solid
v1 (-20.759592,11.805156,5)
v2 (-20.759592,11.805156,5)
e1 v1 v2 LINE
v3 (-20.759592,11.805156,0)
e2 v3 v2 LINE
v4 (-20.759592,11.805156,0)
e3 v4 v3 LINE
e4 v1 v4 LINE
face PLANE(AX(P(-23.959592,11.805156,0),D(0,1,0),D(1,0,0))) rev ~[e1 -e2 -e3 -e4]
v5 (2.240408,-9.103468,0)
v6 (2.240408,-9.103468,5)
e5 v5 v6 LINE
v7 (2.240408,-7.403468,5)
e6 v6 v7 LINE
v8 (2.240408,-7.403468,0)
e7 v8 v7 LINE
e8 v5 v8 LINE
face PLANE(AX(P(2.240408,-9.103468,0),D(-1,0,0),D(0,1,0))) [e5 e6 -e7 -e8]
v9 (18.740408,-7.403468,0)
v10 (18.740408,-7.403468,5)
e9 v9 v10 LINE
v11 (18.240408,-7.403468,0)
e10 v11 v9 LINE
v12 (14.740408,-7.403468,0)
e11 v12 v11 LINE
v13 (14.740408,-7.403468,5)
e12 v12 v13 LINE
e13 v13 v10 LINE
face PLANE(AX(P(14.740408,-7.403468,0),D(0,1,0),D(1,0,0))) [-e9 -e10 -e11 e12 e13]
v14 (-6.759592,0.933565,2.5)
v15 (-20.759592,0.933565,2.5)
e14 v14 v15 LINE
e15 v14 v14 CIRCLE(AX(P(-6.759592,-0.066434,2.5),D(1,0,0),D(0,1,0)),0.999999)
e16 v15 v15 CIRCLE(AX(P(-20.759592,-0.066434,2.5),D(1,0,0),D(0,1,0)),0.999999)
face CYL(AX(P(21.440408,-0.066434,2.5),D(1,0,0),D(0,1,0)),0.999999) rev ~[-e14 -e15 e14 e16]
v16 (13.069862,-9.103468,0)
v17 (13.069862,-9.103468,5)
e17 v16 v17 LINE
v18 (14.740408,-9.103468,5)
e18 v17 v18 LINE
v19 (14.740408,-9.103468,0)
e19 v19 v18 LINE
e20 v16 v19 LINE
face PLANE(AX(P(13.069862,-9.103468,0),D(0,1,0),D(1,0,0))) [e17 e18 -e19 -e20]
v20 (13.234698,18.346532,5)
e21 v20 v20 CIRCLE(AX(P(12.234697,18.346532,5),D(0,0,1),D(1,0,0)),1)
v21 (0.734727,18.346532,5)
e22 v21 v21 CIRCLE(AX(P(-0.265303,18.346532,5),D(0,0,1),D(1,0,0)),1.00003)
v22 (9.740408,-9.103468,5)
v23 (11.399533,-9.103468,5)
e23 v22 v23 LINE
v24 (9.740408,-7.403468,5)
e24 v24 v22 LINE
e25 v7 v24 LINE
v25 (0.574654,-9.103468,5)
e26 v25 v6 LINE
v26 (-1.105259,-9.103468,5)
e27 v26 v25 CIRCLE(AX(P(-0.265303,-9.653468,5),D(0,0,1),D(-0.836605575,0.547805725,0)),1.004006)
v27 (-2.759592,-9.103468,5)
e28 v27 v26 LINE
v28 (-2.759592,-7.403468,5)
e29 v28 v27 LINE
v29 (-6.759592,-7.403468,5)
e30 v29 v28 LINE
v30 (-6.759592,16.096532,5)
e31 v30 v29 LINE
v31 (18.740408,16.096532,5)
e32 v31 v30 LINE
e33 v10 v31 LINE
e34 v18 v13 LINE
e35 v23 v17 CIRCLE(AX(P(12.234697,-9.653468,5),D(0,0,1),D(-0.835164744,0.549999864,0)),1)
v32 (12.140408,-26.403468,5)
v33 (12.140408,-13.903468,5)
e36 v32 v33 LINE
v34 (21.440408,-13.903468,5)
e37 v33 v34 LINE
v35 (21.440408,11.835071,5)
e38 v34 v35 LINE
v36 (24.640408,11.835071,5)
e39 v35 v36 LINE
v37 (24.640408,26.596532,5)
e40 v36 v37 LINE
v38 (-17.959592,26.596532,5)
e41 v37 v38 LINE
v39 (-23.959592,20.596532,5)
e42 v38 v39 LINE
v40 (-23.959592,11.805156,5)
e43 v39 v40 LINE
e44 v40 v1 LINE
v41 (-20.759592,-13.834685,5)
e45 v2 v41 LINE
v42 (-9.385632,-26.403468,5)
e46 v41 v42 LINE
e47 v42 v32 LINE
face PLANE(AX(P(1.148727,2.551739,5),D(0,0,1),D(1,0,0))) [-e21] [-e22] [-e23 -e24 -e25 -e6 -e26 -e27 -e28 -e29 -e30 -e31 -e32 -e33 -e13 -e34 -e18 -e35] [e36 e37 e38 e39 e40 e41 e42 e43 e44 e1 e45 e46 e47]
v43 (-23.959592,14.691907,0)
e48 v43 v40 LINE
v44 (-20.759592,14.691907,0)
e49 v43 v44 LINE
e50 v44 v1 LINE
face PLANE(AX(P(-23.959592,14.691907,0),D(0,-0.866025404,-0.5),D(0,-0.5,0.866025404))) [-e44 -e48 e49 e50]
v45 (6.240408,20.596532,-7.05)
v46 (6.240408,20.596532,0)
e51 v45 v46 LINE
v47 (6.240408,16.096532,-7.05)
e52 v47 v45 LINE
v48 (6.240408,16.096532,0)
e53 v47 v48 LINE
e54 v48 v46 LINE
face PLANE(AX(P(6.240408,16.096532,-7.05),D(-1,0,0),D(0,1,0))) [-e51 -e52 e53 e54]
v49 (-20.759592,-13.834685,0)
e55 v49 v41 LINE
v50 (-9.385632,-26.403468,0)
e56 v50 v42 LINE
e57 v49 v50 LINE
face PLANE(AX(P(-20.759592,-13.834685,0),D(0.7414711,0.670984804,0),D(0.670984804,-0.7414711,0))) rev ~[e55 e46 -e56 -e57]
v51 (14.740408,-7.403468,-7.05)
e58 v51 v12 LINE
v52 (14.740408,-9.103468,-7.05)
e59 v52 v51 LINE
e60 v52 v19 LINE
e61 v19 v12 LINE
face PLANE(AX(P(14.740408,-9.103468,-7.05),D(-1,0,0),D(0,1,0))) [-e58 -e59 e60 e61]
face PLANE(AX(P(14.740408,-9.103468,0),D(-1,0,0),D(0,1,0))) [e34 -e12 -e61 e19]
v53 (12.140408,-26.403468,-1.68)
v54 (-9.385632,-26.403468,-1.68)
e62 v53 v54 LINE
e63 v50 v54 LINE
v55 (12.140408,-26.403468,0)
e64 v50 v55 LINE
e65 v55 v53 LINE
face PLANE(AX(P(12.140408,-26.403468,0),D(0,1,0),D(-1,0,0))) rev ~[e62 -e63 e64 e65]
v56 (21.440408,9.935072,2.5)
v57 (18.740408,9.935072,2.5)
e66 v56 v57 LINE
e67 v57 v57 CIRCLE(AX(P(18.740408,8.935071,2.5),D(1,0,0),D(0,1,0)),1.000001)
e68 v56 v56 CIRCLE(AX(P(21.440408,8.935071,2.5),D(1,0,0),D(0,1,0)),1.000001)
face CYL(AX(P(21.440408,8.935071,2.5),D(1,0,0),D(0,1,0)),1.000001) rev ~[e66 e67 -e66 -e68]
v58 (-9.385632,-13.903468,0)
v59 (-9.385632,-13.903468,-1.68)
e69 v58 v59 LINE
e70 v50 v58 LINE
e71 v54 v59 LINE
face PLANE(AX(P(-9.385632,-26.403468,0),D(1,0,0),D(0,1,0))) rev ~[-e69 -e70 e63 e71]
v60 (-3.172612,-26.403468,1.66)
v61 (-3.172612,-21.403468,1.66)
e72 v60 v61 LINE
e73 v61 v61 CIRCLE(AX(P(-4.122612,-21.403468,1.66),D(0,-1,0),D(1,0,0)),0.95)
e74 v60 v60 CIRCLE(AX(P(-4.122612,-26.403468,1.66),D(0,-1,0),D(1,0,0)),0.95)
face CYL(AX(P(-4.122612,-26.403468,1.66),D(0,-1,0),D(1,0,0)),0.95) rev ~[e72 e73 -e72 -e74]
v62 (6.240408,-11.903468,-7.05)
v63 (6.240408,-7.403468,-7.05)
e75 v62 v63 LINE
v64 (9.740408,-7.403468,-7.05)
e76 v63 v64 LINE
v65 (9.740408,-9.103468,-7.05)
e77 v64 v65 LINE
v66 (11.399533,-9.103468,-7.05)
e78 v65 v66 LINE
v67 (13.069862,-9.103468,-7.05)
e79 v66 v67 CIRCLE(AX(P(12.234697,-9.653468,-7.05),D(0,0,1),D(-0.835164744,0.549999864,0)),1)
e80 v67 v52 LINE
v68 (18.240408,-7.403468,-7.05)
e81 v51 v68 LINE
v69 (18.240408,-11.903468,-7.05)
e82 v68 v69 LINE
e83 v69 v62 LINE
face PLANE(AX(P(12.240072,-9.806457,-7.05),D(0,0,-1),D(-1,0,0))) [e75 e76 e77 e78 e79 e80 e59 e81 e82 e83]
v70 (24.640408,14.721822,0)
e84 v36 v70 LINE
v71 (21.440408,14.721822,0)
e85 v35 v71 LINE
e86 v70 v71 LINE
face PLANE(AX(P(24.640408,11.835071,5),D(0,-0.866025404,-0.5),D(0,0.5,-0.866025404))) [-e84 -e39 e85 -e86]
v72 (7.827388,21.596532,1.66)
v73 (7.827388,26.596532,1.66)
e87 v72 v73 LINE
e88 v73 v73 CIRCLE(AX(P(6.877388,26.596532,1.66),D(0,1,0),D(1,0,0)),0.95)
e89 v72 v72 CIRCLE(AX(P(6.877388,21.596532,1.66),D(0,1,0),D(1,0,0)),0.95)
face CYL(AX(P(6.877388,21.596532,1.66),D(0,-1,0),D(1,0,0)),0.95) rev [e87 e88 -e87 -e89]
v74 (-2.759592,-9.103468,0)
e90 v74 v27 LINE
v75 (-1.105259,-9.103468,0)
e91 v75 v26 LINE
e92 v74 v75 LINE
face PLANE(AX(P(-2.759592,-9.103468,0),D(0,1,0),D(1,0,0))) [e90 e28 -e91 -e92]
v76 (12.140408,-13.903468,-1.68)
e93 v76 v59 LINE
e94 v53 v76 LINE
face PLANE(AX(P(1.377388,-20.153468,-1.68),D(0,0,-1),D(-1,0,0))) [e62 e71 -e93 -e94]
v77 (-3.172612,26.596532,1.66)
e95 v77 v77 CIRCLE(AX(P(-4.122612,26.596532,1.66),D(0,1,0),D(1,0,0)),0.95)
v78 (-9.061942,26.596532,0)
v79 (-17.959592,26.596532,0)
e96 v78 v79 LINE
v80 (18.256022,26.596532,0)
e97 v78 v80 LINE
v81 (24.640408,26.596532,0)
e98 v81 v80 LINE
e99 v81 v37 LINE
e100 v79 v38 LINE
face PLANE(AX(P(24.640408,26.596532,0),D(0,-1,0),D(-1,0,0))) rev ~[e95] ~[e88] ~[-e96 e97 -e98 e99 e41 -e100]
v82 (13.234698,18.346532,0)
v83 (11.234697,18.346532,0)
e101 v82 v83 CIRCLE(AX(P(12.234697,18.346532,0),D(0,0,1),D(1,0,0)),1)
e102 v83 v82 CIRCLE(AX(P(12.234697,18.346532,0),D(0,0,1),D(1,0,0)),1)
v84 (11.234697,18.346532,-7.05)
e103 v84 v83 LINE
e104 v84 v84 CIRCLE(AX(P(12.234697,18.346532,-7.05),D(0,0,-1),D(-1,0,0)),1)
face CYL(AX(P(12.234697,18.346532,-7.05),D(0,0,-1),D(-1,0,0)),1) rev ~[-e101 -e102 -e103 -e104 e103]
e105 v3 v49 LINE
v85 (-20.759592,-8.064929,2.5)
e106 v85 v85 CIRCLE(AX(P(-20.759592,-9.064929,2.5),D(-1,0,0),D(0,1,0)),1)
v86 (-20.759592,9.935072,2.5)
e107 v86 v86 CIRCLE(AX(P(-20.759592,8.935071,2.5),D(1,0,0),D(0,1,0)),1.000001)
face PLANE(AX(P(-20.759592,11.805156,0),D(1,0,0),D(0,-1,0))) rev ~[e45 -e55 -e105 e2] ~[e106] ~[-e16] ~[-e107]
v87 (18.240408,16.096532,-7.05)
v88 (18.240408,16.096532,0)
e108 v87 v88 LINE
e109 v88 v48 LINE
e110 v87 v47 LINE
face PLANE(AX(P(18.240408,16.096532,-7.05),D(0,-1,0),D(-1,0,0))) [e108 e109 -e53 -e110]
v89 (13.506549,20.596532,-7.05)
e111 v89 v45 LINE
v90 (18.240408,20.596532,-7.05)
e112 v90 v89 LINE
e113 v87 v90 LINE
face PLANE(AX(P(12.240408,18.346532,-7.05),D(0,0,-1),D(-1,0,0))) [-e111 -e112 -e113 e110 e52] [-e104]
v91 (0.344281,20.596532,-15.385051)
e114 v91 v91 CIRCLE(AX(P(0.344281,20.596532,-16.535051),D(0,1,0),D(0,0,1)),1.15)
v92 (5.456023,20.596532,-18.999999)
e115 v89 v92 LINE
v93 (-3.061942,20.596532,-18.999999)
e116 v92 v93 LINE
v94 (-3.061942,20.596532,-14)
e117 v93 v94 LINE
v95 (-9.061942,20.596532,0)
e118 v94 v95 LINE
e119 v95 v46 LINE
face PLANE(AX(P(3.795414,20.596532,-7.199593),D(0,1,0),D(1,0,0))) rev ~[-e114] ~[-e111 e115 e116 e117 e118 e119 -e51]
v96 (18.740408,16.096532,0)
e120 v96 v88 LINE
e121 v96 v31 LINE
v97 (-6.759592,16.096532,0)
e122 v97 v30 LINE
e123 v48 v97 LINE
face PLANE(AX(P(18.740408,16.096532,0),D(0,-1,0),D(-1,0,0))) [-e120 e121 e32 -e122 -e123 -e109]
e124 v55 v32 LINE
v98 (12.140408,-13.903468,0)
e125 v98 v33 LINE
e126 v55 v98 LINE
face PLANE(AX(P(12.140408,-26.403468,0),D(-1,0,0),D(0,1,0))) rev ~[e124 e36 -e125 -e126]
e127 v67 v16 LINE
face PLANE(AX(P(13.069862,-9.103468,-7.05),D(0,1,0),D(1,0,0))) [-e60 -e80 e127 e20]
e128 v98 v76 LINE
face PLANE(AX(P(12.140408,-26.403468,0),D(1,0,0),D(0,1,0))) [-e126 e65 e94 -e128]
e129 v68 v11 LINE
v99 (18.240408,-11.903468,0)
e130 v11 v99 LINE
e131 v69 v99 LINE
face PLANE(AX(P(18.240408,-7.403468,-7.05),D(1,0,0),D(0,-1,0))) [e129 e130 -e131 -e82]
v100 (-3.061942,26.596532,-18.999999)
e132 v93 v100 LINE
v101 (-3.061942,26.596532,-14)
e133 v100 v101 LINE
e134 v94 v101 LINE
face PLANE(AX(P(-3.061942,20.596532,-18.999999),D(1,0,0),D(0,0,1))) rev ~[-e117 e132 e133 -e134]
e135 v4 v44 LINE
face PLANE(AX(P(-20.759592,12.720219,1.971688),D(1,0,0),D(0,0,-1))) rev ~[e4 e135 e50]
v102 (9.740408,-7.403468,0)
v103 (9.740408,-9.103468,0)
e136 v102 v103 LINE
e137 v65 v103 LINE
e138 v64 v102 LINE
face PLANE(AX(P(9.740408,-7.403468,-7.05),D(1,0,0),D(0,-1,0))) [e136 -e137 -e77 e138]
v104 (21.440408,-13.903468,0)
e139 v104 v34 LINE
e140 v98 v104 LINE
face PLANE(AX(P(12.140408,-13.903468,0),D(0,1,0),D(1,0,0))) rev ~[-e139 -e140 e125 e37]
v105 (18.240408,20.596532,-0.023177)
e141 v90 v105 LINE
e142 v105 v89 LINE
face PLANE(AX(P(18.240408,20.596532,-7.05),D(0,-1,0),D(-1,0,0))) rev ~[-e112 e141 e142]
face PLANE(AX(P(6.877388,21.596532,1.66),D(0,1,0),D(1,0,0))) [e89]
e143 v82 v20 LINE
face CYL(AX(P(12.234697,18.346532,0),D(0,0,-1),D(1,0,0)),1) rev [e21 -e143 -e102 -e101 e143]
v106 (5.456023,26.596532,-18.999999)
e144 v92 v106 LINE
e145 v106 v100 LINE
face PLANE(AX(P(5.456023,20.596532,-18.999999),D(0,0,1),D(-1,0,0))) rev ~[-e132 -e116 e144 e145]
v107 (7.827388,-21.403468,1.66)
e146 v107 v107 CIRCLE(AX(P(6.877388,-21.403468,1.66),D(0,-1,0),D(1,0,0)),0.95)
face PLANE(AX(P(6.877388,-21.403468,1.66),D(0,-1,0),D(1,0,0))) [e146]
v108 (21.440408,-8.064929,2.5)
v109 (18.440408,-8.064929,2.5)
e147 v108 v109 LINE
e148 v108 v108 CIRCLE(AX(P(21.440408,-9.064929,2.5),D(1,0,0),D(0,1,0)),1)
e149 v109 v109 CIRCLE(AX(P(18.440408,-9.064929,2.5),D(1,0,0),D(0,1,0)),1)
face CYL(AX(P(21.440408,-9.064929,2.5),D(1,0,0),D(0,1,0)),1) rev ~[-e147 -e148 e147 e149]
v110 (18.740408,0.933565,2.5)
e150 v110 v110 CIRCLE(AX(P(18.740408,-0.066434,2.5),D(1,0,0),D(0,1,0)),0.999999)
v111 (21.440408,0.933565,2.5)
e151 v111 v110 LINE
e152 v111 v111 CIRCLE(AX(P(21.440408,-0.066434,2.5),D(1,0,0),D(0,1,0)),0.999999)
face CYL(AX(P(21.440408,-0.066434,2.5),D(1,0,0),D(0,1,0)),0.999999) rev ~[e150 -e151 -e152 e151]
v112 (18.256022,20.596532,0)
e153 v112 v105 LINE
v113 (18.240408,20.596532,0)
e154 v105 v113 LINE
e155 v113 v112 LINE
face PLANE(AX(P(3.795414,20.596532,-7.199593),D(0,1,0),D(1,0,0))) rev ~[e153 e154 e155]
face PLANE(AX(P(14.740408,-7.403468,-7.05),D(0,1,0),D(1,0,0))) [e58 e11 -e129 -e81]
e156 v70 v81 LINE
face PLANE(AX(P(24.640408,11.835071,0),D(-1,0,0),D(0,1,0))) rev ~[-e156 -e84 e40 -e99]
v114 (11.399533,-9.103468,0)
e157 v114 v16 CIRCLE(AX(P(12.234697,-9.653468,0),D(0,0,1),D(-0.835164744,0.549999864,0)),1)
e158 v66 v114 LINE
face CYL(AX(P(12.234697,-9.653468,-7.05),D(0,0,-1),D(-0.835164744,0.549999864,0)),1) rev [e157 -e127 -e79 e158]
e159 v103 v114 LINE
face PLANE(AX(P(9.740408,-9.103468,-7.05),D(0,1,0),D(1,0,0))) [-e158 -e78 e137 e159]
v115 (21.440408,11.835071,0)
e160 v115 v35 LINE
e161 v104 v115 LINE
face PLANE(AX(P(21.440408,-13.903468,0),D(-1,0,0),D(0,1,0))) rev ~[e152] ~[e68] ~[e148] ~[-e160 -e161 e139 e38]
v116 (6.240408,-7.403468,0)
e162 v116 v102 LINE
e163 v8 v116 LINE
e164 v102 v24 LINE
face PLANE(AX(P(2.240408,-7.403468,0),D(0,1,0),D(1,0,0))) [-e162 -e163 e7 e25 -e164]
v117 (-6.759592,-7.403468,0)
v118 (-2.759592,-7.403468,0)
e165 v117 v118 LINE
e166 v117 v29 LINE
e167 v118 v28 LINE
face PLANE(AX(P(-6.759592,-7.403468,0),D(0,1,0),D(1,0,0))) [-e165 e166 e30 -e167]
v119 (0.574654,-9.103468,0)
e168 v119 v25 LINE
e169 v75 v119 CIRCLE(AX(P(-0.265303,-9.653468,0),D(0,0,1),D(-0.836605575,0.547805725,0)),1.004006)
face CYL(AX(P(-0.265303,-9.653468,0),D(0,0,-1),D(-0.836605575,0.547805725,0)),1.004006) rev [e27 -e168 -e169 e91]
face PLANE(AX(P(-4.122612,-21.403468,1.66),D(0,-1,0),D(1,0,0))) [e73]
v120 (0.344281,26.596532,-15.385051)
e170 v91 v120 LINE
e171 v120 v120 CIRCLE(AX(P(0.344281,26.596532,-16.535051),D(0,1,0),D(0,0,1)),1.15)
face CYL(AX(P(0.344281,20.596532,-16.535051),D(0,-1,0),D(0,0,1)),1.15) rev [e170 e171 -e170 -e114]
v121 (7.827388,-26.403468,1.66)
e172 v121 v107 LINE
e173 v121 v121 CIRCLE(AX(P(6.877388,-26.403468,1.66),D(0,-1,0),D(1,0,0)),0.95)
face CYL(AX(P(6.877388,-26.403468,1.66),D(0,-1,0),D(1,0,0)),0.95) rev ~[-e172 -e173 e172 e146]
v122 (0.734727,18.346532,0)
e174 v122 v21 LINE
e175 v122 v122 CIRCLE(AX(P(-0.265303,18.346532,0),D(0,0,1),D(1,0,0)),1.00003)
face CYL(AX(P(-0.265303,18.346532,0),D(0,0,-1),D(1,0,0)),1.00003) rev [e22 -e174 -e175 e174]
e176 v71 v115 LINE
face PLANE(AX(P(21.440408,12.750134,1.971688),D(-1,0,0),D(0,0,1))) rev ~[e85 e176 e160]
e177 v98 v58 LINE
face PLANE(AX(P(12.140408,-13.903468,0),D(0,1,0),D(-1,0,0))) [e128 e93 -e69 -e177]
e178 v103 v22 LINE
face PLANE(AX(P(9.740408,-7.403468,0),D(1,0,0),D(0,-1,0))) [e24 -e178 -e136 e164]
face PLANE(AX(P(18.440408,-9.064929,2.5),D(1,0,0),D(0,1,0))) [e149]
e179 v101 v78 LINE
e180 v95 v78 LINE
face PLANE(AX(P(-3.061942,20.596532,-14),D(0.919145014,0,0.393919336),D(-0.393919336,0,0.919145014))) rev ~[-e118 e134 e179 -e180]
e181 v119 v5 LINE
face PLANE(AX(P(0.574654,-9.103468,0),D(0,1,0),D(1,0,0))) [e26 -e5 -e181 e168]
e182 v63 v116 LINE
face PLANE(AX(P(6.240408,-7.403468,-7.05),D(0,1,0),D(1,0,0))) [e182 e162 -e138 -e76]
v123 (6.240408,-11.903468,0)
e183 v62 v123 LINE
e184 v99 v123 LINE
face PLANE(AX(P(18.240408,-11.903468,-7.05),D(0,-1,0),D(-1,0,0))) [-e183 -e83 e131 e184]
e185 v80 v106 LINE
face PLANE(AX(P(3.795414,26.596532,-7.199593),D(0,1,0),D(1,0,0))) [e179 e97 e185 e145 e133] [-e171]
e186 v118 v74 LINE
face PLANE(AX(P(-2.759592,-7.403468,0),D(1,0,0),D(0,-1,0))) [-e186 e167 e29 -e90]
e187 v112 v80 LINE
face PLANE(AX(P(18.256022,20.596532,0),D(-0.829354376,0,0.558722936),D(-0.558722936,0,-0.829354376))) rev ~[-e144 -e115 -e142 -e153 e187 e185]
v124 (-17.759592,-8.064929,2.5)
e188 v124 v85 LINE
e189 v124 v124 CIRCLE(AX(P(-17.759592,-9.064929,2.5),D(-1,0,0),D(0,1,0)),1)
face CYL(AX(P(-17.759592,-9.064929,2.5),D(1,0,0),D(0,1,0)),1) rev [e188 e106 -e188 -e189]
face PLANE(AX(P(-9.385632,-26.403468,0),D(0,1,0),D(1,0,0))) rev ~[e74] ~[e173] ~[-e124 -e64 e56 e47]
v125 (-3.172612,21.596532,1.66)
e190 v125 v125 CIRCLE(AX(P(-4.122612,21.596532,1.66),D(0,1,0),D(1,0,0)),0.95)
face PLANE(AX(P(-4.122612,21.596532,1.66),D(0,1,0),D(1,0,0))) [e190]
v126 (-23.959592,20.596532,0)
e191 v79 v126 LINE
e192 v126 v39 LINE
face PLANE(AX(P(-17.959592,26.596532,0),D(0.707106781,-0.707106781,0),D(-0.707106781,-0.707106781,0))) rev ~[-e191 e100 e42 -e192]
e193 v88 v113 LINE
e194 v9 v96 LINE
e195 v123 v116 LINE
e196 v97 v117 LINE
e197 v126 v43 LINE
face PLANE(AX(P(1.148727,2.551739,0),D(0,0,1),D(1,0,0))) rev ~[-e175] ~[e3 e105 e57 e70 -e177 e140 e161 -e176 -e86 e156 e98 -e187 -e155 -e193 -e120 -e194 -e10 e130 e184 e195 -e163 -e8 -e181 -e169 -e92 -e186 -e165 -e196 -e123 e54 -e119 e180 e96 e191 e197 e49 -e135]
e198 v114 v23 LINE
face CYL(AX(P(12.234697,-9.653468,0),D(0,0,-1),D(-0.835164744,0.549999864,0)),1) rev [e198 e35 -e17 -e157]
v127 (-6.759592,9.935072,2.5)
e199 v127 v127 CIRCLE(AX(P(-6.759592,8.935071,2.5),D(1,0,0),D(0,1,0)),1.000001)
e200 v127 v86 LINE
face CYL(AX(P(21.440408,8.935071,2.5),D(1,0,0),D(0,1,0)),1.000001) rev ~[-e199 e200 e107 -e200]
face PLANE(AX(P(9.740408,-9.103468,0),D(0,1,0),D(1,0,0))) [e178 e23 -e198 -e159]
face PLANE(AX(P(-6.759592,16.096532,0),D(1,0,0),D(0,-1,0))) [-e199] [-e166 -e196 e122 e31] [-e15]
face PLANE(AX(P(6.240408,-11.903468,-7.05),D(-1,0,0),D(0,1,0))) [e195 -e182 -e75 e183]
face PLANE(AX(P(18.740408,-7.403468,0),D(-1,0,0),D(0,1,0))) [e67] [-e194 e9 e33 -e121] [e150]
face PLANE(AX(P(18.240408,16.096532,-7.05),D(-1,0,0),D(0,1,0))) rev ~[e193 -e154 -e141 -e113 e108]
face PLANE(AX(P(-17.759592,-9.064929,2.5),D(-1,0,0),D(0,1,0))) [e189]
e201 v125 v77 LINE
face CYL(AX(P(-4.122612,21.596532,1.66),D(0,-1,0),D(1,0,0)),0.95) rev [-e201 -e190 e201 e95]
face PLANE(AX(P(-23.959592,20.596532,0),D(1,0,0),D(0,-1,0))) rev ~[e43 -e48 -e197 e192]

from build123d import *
from build123d.topology import SkipClean

# Parameters (mm, degrees)
SKETCH_1_R          = 1.000029699
SKETCH_1_R_2        = 1.000000092
EXTRUDE_1_DEPTH     = 5
EXTRUDE_START       = 7.05
SKETCH_2_W          = 12
SKETCH_2_H          = 4.5
SKETCH_2_R          = 1.000000092
EXTRUDE_2_DEPTH     = 7.05
SKETCH_3_W          = 21.526040124
SKETCH_3_H          = 12.5
EXTRUDE_3_DEPTH     = 1.68
SKETCH_4_R          = 0.95
CUT_EXTRUDE_1_DEPTH = 5
SKETCH_5_R          = 1.149999977
EXTRUDE_4_DEPTH     = 6
CUT_EXTRUDE_START   = -5
SKETCH_6_R          = 0.95
CUT_EXTRUDE_2_DEPTH = 5
SKETCH_7_R          = 1.000001095
SKETCH_7_R_2        = 0.999998737
CUT_EXTRUDE_3_DEPTH = 100
SKETCH_9_R          = 1
CUT_EXTRUDE_4_DEPTH = 3
CUT_EXTRUDE_START_2 = -3
SKETCH_10_R         = 1
CUT_EXTRUDE_5_DEPTH = 3
CUT_EXTRUDE_6_DEPTH = 3.2
CUT_EXTRUDE_7_DEPTH = 3.2


with BuildPart() as part:
    # 草图1 → 凸台-拉伸1 (new body)
    with BuildSketch(Plane.XY):
        Polygon((21.440408464, 11.835070794), (24.640408464, 11.835070794), (24.640408464, 26.596532095), (-17.959592209, 26.596532095), (-23.959592393, 20.596531911), (-23.959592393, 11.805155949), (-20.759591536, 11.805155949), (-20.759591536, -13.834684697), (-9.38563166, -26.403467905), (12.140408464, -26.403467905), (12.140408464, -13.903467905), (21.440408464, -13.903467905), align=None)
        with Locations((-0.265302528, 18.346532095)):
            Circle(SKETCH_1_R, mode=Mode.SUBTRACT)
        with Locations((12.234697472, 18.346532095)):
            Circle(SKETCH_1_R_2, mode=Mode.SUBTRACT)
        with BuildLine():
            ThreePointArc((11.399532521, -9.103467905), (12.234697472, -10.653468153), (13.069862423, -9.103467905))
            Line((13.069862423, -9.103467905), (14.740408464, -9.103467905))
            Line((14.740408464, -9.103467905), (14.740408464, -7.403467905))
            Line((14.740408464, -7.403467905), (18.740408464, -7.403467905))
            Line((18.740408464, -7.403467905), (18.740408464, 16.096532095))
            Line((18.740408464, 16.096532095), (-6.759591536, 16.096532095))
            Line((-6.759591536, 16.096532095), (-6.759591536, -7.403467905))
            Line((-6.759591536, -7.403467905), (-2.759591536, -7.403467905))
            Line((-2.759591536, -7.403467905), (-2.759591536, -9.103467905))
            Line((-2.759591536, -9.103467905), (-1.105259185, -9.103467905))
            ThreePointArc((-1.105259185, -9.103467905), (-0.265302528, -10.657473475), (0.574654129, -9.103467905))
            Line((0.574654129, -9.103467905), (2.240408464, -9.103467905))
            Line((2.240408464, -9.103467905), (2.240408464, -7.403467905))
            Line((2.240408464, -7.403467905), (9.740408464, -7.403467905))
            Line((9.740408464, -7.403467905), (9.740408464, -9.103467905))
            Line((9.740408464, -9.103467905), (11.399532521, -9.103467905))
        make_face(mode=Mode.SUBTRACT)
    extrude(amount=EXTRUDE_1_DEPTH)

    # 草图2 → 凸台-拉伸2 (add)
    # profile 1 of 2: a face of its own
    with SkipClean():  # the faces are left unmerged after this step: merging them gives an invalid solid
        with BuildSketch(Plane(origin=(0, 0, 0), x_dir=(-1, 0, 0), z_dir=(0, 0, -1)).offset(EXTRUDE_START)):
            with BuildLine():
                Line((-18.240408464, -7.403467905), (-18.240408464, -11.903467905))
                Line((-18.240408464, -11.903467905), (-6.240408464, -11.903467905))
                Line((-6.240408464, -11.903467905), (-6.240408464, -7.403467905))
                Line((-6.240408464, -7.403467905), (-9.740408464, -7.403467905))
                Line((-9.740408464, -7.403467905), (-9.740408464, -9.103467905))
                Line((-9.740408464, -9.103467905), (-11.399532521, -9.103467905))
                ThreePointArc((-11.399532521, -9.103467905), (-12.234697472, -10.653468153), (-13.069862423, -9.103467905))
                Line((-13.069862423, -9.103467905), (-14.740408464, -9.103467905))
                Line((-14.740408464, -9.103467905), (-14.740408464, -7.403467905))
                Line((-14.740408464, -7.403467905), (-18.240408464, -7.403467905))
            make_face()
        # profile 2 of 2: a face of its own
        with BuildSketch(Plane(origin=(0, 0, 0), x_dir=(-1, 0, 0), z_dir=(0, 0, -1)).offset(EXTRUDE_START)):
            with Locations((-12.240408464, 18.346532095)):
                Rectangle(SKETCH_2_W, SKETCH_2_H)
            with Locations((-12.234697472, 18.346532095)):
                Circle(SKETCH_2_R, mode=Mode.SUBTRACT)
        extrude(amount=-EXTRUDE_2_DEPTH)

    # 草图3 → 凸台-拉伸3 (add)
    with SkipClean():  # the faces are left unmerged after this step: merging them gives an invalid solid
        with BuildSketch(Plane(origin=(0, 0, 0), x_dir=(-1, 0, 0), z_dir=(0, 0, -1))):
            with Locations((-1.377388402, -20.153467905)):
                Rectangle(SKETCH_3_W, SKETCH_3_H)
        extrude(amount=EXTRUDE_3_DEPTH)

    # 草图4 → 切除-拉伸1 (cut)
    with SkipClean():  # the faces are left unmerged after this step: merging them gives an invalid solid
        with BuildSketch(Plane.XZ.offset(26.403467905)):
            with Locations((6.877388402, 1.66)):
                Circle(SKETCH_4_R)
            with Locations((-4.122611598, 1.66)):
                Circle(SKETCH_4_R)
        extrude(amount=-CUT_EXTRUDE_1_DEPTH, mode=Mode.SUBTRACT)

    # 草图5 → 凸台-拉伸4 (add)
    with SkipClean():  # the faces are left unmerged after this step: merging them gives an invalid solid
        with BuildSketch(Plane(origin=(0, 20.596532095, 0), x_dir=(1, 0, 0), z_dir=(0, 1, 0))):
            Polygon((18.256022121, 0), (5.456022884, 18.999999285), (-3.061941956, 18.999999285), (-3.061941956, 13.999999523), (-9.061942433, 0), align=None)
            with Locations(Location((0.344281244, 16.535050638, 0), (0, 0, 270))):
                Circle(SKETCH_5_R, mode=Mode.SUBTRACT)
        extrude(amount=EXTRUDE_4_DEPTH)

    # 草图6 → 切除-拉伸2 (cut)
    with SkipClean():  # the faces are left unmerged after this step: merging them gives an invalid solid
        with BuildSketch(Plane(origin=(0, 26.596532095, 0), x_dir=(1, 0, 0), z_dir=(0, 1, 0)).offset(CUT_EXTRUDE_START)):
            with Locations((-4.122611598, -1.66)):
                Circle(SKETCH_6_R)
            with Locations((6.877388402, -1.66)):
                Circle(SKETCH_6_R)
        extrude(amount=CUT_EXTRUDE_2_DEPTH, mode=Mode.SUBTRACT)

    # 草图7 → 切除-拉伸3 (cut)
    with SkipClean():  # the faces are left unmerged after this step: merging them gives an invalid solid
        with BuildSketch(Plane(origin=(21.440408464, 0, 0), x_dir=(0, 0, -1), z_dir=(1, 0, 0))):
            with Locations(Location((-2.5, 8.935070794, 0), (0, 0, 90))):
                Circle(SKETCH_7_R)
            with Locations(Location((-2.5, -0.06643386, 0), (0, 0, 90))):
                Circle(SKETCH_7_R_2)
        extrude(amount=-CUT_EXTRUDE_3_DEPTH, mode=Mode.SUBTRACT)

    # 草图9 → 切除-拉伸4 (cut)
    with SkipClean():  # the faces are left unmerged after this step: merging them gives an invalid solid
        with BuildSketch(Plane(origin=(21.440408464, 0, 0), x_dir=(0, 0, -1), z_dir=(1, 0, 0))):
            with Locations(Location((-2.5, -9.064929206, 0), (0, 0, 90))):
                Circle(SKETCH_9_R)
        extrude(amount=-CUT_EXTRUDE_4_DEPTH, mode=Mode.SUBTRACT)

    # 草图10 → 切除-拉伸5 (cut)
    with SkipClean():  # the faces are left unmerged after this step: merging them gives an invalid solid
        with BuildSketch(Plane.ZY.offset(20.759591536).offset(CUT_EXTRUDE_START_2)):
            with Locations(Location((2.5, -9.064929206, 0), (0, 0, 90))):
                Circle(SKETCH_10_R)
        extrude(amount=CUT_EXTRUDE_5_DEPTH, mode=Mode.SUBTRACT)

    # 草图11 → 切除-拉伸6 (cut)
    with SkipClean():  # the faces are left unmerged after this step: merging them gives an invalid solid
        with BuildSketch(Plane(origin=(24.640408464, 0, 0), x_dir=(0, 0, -1), z_dir=(1, 0, 0))):
            Polygon((-5, 11.835070794), (0, 14.72182214), (0, 11.835070794), align=None)
        extrude(amount=-CUT_EXTRUDE_6_DEPTH, mode=Mode.SUBTRACT)

    # 草图12 → 切除-拉伸7 (cut)
    with SkipClean():  # the faces are left unmerged after this step: merging them gives an invalid solid
        with BuildSketch(Plane.ZY.offset(23.959592393)):
            Polygon((5, 11.805155949), (0, 11.805155949), (0, 14.691907295), align=None)
        extrude(amount=-CUT_EXTRUDE_7_DEPTH, mode=Mode.SUBTRACT)


solid = part.part
